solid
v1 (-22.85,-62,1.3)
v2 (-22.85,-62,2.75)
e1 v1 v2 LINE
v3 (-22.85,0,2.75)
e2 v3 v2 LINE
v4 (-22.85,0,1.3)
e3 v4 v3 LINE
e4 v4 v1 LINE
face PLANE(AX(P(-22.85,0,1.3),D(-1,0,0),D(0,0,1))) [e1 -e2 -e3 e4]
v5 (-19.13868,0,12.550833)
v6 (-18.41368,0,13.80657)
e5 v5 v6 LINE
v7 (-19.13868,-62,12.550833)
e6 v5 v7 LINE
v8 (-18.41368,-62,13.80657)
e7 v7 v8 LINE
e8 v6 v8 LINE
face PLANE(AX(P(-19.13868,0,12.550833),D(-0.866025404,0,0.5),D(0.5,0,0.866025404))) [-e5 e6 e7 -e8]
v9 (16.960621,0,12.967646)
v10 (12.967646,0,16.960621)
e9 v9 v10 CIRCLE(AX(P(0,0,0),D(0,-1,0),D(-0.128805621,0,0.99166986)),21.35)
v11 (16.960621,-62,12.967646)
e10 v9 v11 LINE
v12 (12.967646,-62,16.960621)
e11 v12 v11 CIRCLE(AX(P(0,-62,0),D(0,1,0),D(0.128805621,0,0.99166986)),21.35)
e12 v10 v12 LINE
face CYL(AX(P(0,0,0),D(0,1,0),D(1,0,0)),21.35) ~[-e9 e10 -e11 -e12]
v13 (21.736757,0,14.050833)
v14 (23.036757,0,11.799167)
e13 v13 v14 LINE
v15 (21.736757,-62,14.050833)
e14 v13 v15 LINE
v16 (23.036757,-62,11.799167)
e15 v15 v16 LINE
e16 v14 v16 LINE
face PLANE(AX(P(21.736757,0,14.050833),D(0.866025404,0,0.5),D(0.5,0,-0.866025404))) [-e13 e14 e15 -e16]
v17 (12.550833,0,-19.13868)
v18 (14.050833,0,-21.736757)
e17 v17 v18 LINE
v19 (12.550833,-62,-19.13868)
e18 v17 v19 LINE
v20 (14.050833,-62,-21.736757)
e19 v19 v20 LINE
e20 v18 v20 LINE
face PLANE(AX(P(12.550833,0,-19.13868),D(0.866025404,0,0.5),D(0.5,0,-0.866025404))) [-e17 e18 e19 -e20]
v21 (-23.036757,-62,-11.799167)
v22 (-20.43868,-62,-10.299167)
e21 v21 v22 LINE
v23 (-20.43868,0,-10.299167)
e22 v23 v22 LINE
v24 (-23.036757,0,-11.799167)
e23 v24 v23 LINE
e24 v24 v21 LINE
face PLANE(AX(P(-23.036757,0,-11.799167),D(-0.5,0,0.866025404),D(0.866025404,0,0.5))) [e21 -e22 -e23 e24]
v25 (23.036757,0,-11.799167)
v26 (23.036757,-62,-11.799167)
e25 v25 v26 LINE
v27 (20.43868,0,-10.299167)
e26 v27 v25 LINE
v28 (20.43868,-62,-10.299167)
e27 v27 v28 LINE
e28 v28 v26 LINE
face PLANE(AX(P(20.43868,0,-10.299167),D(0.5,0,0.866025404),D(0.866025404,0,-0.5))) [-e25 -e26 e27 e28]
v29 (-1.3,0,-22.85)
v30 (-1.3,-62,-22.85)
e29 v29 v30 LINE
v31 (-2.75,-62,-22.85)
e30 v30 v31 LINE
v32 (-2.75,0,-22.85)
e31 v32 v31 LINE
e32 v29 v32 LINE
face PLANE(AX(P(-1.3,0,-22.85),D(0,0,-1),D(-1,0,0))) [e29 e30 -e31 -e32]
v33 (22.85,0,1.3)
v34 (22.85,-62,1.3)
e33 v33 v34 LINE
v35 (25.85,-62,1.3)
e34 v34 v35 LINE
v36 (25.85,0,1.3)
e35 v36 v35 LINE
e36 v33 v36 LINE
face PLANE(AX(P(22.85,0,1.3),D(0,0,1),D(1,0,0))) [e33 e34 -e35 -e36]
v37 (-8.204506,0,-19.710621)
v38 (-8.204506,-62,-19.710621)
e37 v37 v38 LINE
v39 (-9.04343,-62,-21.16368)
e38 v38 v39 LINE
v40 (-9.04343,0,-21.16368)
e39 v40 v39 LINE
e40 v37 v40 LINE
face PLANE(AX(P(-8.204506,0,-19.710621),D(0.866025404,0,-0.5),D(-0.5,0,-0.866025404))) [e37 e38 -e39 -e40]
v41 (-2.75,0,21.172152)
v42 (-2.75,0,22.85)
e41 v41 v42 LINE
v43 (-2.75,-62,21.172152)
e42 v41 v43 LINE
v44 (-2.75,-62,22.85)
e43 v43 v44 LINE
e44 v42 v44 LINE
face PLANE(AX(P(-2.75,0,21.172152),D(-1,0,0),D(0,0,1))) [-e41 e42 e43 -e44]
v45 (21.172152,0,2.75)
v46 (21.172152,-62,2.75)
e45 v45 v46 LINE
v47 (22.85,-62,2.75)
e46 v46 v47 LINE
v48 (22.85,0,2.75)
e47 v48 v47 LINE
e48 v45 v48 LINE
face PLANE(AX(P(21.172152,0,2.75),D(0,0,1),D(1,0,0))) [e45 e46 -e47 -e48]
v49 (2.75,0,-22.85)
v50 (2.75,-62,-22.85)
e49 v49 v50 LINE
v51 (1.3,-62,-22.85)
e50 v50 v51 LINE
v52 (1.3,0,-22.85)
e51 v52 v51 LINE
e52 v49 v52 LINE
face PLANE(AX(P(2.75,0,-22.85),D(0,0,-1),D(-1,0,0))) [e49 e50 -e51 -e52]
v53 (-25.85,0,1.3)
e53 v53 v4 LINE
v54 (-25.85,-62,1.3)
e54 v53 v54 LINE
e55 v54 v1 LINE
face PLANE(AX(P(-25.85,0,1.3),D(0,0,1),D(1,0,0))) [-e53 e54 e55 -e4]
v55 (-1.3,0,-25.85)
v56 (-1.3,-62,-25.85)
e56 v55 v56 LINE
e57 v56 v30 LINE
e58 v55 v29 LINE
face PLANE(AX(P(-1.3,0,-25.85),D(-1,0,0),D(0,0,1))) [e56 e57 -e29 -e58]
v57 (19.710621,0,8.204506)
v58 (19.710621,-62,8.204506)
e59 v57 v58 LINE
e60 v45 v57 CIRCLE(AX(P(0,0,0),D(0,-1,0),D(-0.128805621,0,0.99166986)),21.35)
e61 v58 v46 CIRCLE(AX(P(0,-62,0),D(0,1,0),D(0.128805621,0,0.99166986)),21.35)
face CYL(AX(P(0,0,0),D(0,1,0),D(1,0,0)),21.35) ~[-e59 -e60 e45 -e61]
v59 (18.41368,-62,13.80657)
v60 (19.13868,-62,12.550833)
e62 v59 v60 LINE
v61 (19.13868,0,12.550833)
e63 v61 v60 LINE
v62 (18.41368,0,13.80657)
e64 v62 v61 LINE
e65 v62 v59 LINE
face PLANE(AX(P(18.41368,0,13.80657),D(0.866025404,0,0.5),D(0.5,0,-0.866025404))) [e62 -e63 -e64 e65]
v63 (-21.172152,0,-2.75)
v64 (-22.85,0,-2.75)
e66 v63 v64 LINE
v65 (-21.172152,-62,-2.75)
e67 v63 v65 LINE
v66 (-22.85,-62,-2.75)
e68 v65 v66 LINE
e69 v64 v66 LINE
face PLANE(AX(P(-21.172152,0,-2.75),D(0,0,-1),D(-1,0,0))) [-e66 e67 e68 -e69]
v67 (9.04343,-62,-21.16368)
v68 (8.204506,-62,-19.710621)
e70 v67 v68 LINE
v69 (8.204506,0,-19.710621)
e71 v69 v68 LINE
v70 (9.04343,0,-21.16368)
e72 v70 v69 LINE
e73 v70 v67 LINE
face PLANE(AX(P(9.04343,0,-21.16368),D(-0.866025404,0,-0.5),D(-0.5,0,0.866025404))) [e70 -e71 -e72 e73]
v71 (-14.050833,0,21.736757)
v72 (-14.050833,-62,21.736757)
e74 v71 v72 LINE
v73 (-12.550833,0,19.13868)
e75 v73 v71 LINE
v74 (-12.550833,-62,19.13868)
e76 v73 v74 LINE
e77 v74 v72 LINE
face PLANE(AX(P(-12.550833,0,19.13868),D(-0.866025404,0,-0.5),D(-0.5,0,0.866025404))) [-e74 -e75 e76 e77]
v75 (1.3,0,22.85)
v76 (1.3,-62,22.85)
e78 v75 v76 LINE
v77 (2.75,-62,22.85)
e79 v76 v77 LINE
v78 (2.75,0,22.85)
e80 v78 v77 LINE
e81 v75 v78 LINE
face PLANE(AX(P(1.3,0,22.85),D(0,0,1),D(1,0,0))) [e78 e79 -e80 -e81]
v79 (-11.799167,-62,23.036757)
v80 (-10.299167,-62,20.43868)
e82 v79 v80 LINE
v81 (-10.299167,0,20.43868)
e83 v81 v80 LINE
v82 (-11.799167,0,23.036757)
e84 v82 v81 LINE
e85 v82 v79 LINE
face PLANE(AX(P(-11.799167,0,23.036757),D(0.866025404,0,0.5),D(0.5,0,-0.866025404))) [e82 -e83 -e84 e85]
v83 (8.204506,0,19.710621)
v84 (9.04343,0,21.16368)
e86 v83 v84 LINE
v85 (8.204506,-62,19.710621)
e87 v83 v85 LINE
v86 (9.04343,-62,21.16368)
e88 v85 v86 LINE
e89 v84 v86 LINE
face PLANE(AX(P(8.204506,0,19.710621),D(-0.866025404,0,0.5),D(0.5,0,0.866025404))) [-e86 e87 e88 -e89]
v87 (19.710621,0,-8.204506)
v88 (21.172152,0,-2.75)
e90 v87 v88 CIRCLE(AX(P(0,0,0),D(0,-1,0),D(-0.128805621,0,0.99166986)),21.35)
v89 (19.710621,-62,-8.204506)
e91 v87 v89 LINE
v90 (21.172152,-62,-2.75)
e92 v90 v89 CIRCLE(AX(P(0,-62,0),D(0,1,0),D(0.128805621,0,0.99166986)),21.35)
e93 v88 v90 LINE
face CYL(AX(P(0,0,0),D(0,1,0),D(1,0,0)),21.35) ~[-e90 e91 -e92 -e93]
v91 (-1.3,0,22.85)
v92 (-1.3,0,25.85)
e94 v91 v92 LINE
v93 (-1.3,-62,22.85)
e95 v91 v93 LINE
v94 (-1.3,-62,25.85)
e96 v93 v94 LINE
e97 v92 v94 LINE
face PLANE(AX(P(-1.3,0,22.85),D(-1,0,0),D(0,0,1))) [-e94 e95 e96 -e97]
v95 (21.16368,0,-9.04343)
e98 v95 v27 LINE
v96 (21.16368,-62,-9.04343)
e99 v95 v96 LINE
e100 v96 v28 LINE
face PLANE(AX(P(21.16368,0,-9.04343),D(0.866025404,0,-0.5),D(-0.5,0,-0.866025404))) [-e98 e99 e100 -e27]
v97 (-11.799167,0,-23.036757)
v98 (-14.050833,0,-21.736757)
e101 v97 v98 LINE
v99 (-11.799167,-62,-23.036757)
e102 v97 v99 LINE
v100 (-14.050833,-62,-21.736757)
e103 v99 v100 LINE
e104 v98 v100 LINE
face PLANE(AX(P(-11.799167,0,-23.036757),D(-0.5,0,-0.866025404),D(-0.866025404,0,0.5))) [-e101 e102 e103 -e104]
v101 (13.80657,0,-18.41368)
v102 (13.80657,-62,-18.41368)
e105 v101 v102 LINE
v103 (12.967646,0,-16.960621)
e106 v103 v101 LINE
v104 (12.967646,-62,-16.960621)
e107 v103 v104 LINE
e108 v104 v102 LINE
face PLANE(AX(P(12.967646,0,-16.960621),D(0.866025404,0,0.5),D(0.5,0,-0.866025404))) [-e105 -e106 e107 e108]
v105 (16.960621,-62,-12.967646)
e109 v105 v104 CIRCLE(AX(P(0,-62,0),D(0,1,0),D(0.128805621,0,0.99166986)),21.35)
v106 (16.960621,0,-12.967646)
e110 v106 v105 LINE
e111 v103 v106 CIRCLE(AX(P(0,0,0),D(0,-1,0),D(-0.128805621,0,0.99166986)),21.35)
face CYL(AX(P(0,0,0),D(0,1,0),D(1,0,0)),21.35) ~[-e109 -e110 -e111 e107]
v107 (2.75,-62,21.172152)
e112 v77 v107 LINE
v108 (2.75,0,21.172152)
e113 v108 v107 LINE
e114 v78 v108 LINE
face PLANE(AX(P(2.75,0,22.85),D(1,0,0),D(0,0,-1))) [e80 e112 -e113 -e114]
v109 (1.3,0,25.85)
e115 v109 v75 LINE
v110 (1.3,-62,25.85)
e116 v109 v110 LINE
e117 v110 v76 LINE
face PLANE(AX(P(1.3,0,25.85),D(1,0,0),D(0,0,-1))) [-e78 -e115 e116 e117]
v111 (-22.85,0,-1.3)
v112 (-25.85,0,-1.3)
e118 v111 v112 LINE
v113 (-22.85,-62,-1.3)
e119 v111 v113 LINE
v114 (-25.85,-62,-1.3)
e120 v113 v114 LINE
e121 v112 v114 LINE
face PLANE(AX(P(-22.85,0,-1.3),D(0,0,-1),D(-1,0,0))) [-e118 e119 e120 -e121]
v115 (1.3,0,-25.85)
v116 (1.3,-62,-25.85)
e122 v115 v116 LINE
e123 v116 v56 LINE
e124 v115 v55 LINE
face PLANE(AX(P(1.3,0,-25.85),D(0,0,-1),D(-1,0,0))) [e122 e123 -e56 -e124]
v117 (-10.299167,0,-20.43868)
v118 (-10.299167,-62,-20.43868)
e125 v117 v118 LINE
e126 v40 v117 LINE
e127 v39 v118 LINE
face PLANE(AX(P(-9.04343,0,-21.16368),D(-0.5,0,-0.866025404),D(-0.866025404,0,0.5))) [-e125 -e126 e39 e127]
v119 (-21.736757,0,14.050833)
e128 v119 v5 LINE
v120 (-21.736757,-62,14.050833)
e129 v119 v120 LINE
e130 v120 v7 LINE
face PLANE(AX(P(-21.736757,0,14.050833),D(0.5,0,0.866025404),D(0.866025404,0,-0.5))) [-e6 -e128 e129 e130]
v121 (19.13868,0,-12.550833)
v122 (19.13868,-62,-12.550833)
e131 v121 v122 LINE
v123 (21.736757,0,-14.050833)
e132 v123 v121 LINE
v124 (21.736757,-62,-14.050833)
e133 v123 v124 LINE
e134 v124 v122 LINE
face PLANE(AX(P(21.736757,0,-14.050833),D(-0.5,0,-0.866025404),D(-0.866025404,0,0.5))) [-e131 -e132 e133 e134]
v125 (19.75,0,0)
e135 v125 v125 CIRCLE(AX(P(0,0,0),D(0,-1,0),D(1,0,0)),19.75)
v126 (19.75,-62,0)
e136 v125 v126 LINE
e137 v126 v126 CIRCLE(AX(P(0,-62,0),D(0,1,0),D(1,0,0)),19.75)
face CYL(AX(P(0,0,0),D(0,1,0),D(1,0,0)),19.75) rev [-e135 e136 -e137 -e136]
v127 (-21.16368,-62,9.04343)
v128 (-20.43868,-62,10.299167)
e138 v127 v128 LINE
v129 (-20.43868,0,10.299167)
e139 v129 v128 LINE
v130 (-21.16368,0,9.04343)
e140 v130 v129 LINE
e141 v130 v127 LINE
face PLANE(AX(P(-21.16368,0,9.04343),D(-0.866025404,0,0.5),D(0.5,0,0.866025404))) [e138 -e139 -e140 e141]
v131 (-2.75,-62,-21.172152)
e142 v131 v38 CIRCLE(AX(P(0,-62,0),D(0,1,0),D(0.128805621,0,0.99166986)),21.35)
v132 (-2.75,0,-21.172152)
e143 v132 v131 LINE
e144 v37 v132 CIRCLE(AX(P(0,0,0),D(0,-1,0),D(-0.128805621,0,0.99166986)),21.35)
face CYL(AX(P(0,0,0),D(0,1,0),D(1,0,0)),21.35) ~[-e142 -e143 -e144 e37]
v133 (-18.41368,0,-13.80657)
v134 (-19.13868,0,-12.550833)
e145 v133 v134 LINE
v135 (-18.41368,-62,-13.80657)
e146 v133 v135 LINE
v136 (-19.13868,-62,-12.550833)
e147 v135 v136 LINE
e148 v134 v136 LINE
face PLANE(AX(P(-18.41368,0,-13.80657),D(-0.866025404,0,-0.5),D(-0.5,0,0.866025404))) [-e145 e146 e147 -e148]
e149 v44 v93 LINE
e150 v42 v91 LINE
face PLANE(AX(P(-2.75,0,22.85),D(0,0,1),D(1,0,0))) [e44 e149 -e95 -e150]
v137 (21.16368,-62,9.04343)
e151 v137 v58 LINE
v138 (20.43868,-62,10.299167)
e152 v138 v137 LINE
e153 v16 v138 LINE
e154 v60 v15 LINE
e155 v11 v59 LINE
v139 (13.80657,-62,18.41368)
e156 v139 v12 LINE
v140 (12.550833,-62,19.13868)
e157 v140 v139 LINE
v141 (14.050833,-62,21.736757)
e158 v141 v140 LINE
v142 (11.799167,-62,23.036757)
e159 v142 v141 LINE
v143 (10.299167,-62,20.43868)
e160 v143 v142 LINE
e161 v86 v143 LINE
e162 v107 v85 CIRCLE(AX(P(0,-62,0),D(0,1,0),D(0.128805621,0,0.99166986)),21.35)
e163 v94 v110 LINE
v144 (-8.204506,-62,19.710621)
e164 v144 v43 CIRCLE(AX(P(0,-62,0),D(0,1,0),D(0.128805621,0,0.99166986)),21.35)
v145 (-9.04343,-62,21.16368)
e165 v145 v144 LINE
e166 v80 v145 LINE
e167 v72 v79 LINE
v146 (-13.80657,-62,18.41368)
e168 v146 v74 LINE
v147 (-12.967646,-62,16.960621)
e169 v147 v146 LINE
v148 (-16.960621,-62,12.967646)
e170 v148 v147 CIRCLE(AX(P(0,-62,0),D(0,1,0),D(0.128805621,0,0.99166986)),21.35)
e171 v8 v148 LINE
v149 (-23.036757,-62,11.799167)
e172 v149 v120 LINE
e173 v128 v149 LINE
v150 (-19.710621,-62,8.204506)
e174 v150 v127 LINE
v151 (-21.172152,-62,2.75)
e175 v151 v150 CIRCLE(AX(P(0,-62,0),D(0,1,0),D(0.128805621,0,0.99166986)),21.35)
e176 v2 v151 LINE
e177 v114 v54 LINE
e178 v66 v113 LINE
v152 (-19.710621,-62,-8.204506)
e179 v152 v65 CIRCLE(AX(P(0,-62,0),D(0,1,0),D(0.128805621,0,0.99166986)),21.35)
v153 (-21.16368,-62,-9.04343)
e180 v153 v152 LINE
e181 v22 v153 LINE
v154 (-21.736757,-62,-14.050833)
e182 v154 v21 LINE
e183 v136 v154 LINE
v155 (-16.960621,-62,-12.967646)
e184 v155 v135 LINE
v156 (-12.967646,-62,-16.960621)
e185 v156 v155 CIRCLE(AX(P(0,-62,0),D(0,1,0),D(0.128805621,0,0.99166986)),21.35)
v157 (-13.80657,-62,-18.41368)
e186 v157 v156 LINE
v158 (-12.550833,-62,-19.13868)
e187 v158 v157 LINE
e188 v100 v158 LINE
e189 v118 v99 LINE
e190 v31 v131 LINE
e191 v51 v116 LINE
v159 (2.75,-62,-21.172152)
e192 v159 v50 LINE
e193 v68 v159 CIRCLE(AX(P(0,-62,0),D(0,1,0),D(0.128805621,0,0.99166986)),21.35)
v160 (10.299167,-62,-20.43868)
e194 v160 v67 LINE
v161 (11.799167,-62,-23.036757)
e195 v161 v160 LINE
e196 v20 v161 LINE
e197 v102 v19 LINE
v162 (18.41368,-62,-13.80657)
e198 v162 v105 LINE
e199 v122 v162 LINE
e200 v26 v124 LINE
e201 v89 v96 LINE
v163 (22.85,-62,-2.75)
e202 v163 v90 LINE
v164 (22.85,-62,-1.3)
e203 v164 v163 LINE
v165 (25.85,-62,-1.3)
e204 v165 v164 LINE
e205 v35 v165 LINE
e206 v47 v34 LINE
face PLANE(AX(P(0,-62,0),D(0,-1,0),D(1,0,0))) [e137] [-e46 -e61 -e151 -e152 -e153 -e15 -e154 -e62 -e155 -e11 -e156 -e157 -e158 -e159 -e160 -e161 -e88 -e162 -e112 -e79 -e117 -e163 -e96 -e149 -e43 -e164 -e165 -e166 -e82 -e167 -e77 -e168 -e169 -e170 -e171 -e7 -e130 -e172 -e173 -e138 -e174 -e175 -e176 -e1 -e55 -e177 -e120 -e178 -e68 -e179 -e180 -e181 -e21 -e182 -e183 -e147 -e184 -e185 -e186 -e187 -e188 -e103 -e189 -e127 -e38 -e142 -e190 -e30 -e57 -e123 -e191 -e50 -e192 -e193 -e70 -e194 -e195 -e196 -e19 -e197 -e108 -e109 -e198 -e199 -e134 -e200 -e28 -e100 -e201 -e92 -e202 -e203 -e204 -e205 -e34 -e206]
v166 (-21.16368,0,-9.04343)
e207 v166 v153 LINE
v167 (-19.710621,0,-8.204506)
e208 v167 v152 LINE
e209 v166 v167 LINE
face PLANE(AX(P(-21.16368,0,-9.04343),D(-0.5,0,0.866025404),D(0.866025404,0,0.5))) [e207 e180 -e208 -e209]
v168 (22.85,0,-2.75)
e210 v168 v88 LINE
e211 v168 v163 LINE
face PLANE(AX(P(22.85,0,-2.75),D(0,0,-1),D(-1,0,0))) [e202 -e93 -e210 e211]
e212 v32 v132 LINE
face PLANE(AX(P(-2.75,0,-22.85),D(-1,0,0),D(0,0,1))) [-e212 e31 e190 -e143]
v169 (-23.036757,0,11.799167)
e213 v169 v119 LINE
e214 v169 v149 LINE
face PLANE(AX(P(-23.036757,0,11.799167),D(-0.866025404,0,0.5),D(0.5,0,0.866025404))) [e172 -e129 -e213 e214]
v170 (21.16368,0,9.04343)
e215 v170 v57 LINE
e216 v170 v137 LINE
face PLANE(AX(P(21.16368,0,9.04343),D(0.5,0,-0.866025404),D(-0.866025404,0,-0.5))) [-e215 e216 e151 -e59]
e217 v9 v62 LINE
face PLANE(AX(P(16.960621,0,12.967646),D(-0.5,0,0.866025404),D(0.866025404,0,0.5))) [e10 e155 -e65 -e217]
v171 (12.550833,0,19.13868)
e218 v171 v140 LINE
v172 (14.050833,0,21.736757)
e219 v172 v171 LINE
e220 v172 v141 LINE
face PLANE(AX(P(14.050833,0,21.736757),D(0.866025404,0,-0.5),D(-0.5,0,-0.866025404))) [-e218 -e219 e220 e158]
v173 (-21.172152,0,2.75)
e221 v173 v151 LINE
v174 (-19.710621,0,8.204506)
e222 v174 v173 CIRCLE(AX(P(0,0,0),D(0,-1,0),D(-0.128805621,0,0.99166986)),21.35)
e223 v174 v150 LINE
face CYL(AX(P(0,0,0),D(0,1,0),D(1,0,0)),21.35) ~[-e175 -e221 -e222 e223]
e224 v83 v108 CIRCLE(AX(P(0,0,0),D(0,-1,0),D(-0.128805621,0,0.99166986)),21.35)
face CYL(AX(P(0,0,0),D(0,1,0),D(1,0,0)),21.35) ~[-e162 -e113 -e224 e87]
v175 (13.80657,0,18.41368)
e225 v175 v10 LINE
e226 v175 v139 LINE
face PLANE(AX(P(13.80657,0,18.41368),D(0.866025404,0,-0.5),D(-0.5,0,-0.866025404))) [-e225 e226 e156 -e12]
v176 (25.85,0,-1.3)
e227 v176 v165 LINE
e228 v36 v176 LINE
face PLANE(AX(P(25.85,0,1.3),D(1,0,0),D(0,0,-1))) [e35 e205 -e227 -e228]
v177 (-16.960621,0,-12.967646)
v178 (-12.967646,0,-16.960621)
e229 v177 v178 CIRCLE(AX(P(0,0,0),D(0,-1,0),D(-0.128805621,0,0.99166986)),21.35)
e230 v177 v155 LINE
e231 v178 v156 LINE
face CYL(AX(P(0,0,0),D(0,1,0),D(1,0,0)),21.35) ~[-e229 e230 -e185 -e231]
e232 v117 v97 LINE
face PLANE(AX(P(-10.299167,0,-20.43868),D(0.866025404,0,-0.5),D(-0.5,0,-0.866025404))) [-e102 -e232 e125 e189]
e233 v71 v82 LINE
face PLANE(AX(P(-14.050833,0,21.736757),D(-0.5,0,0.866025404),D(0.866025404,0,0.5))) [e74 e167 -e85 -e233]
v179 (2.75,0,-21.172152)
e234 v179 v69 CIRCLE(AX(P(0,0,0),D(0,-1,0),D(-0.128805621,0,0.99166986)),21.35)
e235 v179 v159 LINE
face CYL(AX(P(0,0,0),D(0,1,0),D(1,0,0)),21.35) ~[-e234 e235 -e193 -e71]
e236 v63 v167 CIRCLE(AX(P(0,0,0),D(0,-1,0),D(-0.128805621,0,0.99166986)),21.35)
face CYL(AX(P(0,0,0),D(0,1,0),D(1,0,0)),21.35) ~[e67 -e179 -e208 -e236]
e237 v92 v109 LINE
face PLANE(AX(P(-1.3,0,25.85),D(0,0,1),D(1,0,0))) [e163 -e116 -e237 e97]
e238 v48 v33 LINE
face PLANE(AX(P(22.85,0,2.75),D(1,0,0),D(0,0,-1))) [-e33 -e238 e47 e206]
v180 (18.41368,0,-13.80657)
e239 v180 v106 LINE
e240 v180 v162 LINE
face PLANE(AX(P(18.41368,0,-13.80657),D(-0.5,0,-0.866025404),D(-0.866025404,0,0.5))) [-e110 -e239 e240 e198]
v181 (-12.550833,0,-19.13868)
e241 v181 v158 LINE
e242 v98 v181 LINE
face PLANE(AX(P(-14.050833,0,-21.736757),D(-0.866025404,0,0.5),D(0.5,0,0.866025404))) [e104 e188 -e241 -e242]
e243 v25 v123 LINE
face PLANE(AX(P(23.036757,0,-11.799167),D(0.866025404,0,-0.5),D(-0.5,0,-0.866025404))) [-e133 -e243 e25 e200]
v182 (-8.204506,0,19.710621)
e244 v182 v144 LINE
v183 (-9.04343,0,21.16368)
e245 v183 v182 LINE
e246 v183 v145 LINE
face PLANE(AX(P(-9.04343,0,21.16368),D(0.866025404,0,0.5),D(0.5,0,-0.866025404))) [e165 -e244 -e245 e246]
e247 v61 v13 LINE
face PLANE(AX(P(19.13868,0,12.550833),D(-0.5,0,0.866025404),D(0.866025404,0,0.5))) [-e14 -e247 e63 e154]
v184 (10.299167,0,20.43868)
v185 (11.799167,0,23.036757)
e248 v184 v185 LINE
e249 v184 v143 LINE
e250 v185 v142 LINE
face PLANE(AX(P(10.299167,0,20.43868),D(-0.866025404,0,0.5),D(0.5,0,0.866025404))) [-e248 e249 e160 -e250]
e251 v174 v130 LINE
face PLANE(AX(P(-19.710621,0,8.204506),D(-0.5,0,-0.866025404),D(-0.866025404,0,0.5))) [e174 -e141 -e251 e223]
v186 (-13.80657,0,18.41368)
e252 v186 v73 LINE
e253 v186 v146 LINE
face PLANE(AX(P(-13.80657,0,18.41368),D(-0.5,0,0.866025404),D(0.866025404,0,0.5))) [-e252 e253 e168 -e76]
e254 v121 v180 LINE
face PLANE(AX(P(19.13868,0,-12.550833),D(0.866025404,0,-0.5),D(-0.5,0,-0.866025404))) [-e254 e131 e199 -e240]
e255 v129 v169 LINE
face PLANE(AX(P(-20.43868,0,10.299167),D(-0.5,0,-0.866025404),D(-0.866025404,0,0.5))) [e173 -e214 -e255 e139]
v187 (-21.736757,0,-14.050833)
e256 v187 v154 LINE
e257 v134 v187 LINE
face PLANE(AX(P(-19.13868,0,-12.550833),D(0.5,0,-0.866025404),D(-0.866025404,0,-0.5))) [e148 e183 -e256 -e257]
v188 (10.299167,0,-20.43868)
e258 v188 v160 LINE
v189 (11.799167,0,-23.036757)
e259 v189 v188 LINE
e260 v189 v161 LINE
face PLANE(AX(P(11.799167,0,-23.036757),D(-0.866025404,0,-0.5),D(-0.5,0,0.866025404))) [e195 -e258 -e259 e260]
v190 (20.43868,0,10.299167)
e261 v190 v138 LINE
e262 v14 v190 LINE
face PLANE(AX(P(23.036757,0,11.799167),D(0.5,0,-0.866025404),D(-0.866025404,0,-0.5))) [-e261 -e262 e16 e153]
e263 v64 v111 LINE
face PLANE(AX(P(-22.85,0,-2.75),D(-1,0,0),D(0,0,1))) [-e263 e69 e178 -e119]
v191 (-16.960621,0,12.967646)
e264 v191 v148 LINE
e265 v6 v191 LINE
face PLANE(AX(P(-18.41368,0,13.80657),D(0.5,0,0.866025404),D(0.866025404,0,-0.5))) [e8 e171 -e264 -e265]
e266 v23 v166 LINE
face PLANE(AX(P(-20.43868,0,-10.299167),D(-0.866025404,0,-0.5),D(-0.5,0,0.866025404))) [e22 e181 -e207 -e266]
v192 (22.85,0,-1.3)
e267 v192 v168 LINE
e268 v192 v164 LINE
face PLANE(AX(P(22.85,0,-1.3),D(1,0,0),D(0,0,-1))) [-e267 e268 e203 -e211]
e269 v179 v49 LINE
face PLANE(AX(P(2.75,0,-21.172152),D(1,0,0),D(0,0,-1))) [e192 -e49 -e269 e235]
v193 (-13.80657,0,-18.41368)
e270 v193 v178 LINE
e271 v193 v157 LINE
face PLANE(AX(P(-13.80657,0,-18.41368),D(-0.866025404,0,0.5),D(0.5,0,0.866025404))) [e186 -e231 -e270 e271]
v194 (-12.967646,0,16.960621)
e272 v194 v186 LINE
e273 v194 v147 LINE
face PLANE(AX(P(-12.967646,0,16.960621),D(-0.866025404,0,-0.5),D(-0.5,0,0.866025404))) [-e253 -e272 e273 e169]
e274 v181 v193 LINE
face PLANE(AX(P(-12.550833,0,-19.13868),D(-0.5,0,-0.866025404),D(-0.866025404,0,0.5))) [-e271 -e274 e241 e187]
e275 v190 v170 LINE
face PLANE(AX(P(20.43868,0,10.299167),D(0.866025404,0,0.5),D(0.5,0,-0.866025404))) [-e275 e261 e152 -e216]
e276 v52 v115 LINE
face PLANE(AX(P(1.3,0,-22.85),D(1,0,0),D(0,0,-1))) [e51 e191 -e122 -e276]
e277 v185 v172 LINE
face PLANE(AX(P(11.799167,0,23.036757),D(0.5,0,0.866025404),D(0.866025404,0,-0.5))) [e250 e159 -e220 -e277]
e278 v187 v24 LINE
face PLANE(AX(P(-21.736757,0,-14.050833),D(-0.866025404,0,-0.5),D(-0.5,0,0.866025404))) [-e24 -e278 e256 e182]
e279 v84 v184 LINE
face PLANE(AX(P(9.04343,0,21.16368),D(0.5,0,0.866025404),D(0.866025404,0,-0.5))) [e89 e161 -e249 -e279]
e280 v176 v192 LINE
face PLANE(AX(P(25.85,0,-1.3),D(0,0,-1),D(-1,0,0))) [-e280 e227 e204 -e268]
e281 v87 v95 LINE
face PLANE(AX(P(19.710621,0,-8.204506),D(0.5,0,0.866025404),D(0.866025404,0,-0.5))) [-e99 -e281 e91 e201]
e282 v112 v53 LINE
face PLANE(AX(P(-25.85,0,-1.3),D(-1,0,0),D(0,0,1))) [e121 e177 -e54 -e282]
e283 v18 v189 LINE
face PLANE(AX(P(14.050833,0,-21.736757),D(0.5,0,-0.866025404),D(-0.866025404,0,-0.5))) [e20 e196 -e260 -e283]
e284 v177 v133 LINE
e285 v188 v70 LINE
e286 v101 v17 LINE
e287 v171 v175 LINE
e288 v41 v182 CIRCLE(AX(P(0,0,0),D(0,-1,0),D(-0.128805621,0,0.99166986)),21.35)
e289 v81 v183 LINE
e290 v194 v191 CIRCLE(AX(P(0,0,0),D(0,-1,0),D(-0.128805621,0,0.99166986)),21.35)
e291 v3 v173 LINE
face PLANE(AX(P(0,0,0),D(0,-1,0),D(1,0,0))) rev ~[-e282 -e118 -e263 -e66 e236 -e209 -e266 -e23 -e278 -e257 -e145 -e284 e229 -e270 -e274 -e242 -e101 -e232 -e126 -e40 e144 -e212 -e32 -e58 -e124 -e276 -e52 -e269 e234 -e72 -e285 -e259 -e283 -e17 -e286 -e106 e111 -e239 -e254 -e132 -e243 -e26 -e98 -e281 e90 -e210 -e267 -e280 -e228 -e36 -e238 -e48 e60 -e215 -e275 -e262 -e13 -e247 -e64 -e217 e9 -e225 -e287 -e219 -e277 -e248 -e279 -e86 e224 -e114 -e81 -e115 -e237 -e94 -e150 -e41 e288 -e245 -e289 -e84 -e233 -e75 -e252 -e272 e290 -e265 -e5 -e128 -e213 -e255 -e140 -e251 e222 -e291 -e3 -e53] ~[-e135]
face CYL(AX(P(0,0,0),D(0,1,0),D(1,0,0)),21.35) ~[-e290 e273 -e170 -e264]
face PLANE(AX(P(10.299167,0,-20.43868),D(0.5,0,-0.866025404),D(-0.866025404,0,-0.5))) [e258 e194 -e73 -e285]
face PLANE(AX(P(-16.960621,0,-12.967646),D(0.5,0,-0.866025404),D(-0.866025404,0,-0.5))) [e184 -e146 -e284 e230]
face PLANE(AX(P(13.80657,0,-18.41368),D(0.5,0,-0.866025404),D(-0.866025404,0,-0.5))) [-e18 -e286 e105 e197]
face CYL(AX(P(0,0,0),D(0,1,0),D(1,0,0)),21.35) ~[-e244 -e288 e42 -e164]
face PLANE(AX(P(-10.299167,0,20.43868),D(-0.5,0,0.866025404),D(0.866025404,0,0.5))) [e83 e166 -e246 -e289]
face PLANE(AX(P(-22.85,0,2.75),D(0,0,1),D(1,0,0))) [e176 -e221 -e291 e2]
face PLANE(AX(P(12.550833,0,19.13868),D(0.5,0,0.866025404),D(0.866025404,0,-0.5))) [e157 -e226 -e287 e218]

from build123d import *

# Parameters (mm, degrees)
F0_R     = 21.35
F0_R_2   = 19.75
F1_DEPTH = 62
F3_DEPTH = 62
F4_COUNT = 12


with BuildPart() as f1:
    # F0 (on Front) → F1 (new body)
    with BuildSketch(Plane.XZ):
        Circle(F0_R)
        Circle(F0_R_2, mode=Mode.SUBTRACT)
    extrude(amount=F1_DEPTH)

    # F2 (on face) → F3 (join)
    with BuildSketch(Plane(origin=(0, 0, 0), x_dir=(-1, 0, 0), z_dir=(0, 1, 0))):
        with BuildLine():
            Line((-2.75, 22.85), (-2.75, 21.1721515203))
            ThreePointArc((-2.75, 21.1721515203), (0, 21.35), (2.75, 21.1721515203))
            Line((2.75, 21.1721515203), (2.75, 22.85))
            Line((2.75, 22.85), (1.3, 22.85))
            Line((1.3, 22.85), (1.3, 25.85))
            Line((1.3, 25.85), (-1.3, 25.85))
            Line((-1.3, 25.85), (-1.3, 22.85))
            Line((-1.3, 22.85), (-2.75, 22.85))
        make_face()
    extrude(amount=-F3_DEPTH)

    # F4: F1 ×12 about axis
    f4_axis = Axis((0, 0, 0), (0, 1, 0))


with BuildPart() as f1_1:
    add(f1.part)
    for i in range(1, F4_COUNT):
        add(f1.part.rotate(f4_axis, i * 360 / F4_COUNT))


solid = f1_1.part
